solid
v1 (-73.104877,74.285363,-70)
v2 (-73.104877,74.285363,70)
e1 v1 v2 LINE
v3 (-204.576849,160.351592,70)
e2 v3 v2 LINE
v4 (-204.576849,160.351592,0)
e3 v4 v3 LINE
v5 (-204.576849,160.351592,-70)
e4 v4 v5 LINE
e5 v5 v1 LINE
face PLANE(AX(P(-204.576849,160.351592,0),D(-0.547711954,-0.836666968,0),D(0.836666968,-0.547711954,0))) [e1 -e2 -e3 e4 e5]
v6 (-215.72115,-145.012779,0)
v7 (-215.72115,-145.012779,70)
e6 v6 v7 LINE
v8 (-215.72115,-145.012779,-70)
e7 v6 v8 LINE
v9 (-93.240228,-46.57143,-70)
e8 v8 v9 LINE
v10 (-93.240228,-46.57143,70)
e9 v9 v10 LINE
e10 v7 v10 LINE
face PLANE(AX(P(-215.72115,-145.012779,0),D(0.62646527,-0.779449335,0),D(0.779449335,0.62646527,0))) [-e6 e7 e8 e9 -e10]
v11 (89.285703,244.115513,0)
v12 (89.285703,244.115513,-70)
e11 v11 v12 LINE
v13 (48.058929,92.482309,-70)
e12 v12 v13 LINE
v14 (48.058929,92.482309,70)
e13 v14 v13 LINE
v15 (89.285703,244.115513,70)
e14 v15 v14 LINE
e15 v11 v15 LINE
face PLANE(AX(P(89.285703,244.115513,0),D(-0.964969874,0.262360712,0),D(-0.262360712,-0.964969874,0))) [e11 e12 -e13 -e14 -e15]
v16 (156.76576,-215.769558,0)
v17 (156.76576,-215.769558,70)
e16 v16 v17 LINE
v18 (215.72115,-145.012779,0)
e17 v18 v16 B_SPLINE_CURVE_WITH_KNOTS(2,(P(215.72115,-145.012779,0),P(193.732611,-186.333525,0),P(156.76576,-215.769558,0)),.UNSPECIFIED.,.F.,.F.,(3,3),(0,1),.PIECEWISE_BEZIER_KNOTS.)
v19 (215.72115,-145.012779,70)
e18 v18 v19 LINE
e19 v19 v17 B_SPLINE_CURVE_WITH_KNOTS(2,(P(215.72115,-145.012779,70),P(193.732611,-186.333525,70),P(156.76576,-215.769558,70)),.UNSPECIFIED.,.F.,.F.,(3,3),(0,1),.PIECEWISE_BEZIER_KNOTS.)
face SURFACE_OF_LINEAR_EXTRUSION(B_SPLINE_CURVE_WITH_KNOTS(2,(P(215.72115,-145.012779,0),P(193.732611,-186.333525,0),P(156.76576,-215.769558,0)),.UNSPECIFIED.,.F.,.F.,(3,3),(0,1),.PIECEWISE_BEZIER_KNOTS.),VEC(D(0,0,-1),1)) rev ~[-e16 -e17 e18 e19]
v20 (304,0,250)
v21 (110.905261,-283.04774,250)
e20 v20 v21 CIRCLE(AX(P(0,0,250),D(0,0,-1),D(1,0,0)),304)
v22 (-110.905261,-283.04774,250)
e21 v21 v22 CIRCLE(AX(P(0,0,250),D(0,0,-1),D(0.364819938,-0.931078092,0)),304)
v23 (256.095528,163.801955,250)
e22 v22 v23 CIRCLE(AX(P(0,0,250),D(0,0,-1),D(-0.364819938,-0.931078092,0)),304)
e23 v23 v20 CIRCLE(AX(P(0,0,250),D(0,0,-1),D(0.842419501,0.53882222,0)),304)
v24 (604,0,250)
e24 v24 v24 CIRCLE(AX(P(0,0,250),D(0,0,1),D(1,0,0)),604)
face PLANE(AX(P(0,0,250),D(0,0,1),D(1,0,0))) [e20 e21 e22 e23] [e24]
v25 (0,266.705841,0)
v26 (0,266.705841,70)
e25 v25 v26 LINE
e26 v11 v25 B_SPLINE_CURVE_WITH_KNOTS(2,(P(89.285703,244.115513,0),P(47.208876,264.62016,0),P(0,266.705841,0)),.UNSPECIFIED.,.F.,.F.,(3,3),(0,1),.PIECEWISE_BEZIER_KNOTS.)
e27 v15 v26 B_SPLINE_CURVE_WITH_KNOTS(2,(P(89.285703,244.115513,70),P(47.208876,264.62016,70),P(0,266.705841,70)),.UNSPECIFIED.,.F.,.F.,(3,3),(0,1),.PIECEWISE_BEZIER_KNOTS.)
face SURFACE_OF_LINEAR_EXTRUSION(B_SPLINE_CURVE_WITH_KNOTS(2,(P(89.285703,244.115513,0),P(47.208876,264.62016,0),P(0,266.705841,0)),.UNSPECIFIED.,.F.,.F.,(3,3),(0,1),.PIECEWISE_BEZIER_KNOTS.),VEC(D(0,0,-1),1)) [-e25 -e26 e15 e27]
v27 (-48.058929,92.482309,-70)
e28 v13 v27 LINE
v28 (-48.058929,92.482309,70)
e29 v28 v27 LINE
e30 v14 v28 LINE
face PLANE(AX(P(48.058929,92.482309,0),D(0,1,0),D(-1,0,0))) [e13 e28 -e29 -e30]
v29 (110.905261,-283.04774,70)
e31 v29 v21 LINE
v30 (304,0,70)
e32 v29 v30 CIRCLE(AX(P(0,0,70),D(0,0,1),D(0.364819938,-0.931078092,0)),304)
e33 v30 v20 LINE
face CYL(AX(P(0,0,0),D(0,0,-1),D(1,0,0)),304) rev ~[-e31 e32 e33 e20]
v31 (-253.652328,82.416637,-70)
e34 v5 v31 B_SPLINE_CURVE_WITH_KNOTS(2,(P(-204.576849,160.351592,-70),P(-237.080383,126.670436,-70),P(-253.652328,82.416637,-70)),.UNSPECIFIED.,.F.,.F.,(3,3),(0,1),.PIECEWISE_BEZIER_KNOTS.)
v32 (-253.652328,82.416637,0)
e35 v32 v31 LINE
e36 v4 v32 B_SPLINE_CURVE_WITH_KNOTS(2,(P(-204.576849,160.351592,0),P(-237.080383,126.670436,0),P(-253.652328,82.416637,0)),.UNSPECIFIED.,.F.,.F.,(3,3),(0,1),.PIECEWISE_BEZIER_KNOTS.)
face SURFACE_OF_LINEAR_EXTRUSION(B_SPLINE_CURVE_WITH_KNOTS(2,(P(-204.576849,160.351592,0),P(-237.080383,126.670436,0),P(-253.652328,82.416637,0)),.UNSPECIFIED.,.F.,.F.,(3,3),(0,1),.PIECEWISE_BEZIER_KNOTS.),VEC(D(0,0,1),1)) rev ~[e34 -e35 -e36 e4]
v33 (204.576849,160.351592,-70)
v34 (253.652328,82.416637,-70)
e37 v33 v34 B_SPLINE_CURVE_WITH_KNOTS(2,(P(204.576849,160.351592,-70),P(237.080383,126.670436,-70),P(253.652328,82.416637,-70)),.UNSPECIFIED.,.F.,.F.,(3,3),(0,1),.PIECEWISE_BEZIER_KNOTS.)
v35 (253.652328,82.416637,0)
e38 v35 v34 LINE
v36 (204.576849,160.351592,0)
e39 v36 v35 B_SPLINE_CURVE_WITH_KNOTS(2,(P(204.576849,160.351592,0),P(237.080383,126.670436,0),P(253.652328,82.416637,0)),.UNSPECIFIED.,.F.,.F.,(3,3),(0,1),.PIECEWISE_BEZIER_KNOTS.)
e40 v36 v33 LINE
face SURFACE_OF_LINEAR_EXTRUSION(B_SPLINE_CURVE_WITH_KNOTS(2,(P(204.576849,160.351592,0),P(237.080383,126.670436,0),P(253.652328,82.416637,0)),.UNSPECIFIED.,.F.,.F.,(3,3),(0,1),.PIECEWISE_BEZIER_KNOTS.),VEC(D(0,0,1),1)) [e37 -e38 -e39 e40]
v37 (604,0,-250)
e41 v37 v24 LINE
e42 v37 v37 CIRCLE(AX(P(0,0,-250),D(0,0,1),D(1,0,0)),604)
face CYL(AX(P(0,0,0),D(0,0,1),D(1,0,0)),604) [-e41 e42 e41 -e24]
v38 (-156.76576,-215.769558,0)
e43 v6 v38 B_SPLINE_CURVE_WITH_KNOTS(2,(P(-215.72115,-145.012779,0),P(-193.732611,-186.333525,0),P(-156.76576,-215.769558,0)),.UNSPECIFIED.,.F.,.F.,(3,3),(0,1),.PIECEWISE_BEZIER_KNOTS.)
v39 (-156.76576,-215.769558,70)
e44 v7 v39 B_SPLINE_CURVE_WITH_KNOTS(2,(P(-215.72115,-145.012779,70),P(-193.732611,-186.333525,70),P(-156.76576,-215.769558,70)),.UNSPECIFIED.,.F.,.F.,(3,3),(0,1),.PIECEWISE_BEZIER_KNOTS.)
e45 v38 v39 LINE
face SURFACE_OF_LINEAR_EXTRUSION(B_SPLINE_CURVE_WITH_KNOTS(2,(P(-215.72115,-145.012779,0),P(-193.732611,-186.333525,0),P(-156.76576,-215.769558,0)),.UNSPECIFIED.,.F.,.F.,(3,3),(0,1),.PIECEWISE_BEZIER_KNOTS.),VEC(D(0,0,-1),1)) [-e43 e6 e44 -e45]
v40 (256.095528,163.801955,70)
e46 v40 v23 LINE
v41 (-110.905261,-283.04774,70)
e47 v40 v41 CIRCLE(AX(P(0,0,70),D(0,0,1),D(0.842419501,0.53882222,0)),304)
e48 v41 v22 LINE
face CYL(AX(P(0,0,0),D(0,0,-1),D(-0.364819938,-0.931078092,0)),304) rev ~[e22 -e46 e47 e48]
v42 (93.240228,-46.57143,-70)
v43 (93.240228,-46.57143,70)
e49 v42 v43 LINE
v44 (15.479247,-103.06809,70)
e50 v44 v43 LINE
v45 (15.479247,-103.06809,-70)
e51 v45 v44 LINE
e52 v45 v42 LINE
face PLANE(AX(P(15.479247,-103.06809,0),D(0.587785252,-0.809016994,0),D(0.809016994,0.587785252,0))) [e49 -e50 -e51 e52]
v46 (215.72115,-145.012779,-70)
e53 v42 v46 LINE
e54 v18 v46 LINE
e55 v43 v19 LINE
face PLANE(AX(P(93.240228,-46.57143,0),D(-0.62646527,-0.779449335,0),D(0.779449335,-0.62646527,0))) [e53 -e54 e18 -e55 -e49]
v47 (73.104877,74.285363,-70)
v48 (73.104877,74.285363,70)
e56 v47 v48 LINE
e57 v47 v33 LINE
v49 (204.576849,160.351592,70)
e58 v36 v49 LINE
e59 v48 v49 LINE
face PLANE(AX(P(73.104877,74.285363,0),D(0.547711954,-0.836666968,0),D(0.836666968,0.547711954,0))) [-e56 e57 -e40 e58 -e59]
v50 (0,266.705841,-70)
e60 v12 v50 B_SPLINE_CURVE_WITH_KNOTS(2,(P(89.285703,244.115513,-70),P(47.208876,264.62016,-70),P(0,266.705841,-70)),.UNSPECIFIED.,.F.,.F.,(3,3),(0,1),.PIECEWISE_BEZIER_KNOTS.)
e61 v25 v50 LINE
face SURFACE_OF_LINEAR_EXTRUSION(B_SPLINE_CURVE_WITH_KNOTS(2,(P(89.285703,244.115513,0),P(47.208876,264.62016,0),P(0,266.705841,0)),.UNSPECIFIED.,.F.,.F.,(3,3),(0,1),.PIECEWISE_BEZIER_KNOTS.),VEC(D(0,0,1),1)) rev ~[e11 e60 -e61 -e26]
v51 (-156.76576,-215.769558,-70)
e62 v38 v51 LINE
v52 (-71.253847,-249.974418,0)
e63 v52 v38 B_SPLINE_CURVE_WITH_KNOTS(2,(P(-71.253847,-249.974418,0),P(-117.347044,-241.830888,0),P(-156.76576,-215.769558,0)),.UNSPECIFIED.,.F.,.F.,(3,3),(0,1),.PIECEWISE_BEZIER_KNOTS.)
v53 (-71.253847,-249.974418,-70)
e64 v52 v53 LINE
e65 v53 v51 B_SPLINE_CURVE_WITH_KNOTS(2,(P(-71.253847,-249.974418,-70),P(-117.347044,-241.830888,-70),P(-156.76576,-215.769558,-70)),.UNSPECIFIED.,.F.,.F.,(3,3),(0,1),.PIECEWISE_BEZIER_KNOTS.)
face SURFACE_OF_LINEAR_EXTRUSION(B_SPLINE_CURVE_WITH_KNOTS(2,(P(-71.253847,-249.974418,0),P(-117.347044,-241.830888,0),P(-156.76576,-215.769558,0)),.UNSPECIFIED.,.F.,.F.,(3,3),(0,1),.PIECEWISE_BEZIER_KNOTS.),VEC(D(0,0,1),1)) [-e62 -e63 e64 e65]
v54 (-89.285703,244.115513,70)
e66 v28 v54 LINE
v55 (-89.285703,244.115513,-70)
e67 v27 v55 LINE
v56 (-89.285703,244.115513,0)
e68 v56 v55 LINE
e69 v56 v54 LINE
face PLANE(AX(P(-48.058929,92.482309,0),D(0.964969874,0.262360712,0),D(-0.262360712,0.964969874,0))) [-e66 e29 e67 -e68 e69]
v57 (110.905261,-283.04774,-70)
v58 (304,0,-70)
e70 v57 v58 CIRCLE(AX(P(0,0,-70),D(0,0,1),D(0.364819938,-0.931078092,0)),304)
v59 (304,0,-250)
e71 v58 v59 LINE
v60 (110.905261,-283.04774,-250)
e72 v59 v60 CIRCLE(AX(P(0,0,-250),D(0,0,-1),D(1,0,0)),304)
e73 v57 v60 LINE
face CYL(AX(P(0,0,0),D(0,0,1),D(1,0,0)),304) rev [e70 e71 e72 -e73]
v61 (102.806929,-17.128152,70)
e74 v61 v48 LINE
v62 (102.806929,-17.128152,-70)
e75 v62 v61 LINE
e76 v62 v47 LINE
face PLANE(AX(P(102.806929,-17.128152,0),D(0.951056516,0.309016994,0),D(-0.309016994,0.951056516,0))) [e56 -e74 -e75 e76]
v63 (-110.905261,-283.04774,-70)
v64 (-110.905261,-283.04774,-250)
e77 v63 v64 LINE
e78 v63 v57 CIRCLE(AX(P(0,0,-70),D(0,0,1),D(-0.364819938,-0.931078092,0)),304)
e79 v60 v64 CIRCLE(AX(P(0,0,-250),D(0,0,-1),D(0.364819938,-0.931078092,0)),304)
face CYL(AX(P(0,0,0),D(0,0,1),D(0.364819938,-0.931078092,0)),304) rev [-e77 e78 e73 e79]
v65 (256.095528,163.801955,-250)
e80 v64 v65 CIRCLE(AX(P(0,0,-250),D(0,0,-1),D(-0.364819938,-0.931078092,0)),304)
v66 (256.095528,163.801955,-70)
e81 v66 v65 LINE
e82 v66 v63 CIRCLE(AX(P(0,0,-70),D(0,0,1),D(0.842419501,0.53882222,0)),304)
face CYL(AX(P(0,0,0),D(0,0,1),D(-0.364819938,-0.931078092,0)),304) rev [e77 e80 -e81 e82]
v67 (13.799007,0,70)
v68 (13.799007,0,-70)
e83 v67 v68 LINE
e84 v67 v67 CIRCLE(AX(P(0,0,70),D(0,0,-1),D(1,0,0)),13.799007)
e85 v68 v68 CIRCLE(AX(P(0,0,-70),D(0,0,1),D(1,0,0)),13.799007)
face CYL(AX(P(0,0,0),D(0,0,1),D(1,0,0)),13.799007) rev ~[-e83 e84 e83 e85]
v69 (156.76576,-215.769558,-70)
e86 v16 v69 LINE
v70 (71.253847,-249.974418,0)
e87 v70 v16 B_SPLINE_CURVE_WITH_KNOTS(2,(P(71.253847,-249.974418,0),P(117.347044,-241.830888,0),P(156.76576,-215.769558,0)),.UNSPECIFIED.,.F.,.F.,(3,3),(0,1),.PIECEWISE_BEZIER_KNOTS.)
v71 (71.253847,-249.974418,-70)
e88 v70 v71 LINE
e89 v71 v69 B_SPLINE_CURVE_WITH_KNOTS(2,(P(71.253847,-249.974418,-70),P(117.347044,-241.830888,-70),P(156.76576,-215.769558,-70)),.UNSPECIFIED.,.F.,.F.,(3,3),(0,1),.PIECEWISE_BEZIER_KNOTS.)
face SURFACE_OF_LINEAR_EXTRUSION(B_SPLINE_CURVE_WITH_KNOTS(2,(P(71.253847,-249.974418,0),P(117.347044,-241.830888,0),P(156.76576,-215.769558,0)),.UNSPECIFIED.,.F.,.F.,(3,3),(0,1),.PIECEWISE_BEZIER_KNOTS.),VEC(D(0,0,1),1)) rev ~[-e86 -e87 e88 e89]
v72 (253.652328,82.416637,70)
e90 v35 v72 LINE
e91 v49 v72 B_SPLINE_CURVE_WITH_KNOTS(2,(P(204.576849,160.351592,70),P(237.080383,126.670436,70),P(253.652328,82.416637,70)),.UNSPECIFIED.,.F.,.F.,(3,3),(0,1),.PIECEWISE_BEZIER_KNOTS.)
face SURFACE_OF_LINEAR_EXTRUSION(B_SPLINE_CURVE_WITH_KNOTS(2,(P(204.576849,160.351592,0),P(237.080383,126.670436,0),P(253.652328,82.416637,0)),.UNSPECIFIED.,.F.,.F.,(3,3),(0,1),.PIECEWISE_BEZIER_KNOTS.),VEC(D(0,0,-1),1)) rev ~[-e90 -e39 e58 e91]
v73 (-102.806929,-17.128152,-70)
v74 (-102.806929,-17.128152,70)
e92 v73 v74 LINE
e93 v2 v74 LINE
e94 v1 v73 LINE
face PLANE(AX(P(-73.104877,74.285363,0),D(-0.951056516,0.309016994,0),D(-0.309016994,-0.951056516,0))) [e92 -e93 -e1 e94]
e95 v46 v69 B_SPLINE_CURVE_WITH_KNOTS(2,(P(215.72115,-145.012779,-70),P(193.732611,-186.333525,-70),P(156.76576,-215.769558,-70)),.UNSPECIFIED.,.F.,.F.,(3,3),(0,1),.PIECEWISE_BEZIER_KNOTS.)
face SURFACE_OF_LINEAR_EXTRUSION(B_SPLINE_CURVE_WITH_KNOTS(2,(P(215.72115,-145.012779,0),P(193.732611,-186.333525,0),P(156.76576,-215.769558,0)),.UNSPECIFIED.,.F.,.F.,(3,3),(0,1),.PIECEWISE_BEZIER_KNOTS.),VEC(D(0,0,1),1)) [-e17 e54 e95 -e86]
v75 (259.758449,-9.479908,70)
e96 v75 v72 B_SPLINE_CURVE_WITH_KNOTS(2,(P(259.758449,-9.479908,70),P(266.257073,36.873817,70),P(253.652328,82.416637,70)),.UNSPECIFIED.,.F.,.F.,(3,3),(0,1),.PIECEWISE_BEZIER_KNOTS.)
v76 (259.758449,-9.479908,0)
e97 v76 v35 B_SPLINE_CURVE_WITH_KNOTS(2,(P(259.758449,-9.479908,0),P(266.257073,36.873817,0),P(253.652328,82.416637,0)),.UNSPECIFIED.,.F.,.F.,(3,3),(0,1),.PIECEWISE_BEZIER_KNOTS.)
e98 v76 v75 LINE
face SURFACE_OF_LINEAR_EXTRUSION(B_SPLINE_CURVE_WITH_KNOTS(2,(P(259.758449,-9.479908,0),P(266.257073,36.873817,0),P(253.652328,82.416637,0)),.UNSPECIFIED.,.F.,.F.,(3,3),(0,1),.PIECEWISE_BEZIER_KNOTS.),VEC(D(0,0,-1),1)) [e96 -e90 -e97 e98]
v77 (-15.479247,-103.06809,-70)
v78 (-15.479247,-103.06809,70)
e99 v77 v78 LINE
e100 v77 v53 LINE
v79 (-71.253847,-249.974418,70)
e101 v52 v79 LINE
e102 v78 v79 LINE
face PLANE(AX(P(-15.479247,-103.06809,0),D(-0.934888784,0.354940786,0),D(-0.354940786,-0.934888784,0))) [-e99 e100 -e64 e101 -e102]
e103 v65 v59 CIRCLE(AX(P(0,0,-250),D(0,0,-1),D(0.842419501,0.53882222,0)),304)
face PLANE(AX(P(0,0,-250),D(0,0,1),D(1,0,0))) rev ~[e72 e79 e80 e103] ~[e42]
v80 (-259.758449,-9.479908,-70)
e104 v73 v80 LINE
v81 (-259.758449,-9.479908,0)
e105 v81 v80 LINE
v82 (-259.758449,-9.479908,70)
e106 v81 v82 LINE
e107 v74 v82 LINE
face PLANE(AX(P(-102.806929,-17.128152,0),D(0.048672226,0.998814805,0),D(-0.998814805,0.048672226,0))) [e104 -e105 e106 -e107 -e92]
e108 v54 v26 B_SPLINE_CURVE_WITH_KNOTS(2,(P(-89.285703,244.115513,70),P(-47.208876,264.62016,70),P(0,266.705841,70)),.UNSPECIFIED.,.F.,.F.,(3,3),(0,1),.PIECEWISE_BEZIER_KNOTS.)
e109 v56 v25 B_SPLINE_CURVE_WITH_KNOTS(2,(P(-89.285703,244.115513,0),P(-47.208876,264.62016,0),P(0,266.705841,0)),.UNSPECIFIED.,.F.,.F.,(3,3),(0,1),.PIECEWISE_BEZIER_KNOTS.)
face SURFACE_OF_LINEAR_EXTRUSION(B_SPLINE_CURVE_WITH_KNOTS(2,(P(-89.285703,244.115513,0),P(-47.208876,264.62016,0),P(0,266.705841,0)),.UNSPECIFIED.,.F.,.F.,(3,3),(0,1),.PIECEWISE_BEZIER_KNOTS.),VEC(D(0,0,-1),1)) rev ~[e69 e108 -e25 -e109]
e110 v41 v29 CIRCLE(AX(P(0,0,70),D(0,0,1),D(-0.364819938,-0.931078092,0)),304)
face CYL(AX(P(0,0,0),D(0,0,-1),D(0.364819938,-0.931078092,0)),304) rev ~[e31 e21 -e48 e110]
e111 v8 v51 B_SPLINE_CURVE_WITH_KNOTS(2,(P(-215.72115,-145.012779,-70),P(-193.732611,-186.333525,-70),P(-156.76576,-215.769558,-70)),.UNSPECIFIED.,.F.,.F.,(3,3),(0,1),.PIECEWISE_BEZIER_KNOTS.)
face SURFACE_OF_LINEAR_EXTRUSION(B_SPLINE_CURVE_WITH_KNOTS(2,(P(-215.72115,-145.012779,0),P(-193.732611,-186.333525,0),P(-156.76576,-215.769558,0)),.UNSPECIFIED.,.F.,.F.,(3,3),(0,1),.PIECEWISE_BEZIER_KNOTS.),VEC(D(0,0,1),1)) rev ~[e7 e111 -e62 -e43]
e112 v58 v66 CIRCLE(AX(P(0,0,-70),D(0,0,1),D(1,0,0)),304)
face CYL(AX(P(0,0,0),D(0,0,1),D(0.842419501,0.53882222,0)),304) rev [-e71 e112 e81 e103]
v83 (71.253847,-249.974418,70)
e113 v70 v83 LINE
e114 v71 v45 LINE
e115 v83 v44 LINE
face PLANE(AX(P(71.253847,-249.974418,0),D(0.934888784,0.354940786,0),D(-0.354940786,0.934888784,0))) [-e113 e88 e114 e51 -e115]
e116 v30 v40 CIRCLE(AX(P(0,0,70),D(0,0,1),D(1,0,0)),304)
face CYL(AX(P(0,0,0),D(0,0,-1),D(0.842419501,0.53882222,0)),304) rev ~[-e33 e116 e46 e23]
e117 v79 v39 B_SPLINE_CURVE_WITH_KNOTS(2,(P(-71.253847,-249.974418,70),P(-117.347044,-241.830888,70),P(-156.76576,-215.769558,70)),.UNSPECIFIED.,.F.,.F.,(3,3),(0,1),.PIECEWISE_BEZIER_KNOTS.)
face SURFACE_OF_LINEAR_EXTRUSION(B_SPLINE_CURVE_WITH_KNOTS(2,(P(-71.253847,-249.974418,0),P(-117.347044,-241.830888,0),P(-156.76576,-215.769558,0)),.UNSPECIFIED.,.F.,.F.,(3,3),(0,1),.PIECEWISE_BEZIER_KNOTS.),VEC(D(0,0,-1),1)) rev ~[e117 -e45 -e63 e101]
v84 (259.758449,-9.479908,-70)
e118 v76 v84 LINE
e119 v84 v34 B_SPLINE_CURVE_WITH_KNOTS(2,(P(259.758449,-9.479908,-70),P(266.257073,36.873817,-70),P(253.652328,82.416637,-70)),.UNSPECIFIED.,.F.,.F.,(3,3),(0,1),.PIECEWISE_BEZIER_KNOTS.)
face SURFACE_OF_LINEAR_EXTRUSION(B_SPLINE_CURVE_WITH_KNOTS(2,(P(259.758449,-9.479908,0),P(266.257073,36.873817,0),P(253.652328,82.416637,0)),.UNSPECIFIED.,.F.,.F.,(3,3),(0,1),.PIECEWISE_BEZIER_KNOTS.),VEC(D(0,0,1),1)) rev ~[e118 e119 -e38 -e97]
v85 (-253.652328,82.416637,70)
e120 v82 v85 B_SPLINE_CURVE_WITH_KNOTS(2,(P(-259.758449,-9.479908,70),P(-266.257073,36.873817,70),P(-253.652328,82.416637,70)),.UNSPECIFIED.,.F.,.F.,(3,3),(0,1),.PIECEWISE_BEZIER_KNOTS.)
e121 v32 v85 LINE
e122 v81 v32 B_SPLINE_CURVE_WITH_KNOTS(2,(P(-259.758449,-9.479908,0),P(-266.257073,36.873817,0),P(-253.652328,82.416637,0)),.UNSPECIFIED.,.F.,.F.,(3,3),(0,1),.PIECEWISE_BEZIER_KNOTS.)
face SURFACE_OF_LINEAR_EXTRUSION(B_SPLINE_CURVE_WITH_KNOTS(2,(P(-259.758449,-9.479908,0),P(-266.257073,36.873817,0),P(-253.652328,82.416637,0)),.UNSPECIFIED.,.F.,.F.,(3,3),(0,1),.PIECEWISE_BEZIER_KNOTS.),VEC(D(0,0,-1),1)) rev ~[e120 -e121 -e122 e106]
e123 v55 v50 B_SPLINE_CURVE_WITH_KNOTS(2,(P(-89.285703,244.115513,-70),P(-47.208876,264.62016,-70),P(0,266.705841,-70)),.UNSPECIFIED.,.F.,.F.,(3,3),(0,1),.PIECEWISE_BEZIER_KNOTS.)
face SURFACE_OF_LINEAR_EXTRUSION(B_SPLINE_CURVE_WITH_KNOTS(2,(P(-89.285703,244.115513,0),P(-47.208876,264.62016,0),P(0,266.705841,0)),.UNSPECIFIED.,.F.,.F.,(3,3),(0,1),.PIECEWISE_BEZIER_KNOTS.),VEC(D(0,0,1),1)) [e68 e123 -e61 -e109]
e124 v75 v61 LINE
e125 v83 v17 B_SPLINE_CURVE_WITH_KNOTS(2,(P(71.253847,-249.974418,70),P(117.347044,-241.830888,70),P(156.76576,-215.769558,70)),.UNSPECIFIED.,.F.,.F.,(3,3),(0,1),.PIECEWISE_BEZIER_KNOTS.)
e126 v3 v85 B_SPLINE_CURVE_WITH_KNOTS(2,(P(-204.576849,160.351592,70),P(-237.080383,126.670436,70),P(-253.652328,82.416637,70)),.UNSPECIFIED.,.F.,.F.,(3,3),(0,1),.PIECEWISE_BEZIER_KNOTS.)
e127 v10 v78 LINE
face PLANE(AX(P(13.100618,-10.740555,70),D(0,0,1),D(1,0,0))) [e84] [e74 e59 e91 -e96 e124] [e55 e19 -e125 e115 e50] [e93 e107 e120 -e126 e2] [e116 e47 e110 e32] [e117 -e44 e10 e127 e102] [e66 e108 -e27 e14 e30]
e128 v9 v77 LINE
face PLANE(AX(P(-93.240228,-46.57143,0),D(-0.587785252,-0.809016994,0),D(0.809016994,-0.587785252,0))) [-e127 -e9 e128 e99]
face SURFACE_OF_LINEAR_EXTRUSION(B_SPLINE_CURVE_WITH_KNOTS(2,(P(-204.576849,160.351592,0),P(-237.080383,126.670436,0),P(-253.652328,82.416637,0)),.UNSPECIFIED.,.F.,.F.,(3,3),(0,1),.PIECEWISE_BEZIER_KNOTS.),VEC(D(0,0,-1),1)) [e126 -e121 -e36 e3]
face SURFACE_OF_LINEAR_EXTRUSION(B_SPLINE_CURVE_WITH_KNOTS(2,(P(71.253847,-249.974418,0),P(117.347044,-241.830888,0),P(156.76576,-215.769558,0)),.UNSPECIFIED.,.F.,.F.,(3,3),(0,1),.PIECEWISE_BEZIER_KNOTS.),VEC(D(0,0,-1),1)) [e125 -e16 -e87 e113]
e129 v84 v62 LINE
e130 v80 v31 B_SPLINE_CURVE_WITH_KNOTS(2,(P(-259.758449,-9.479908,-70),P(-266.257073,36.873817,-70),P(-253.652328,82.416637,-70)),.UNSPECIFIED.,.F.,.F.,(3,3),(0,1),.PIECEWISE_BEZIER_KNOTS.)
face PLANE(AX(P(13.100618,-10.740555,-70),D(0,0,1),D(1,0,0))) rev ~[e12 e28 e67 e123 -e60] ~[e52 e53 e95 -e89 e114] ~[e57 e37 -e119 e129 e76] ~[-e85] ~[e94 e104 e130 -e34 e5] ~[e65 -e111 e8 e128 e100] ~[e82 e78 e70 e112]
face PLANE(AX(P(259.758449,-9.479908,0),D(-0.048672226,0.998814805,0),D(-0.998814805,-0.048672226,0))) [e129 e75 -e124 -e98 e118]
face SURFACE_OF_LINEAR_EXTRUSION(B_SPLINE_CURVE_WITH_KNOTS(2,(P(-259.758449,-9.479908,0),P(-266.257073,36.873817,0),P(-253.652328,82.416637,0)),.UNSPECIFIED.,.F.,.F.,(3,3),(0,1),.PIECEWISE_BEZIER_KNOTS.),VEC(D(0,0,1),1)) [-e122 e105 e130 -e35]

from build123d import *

# Parameters (mm, degrees)
SKETCH1_R                = 604
BOSS_EXTRUDE1_DEPTH      = 250
BOSS_EXTRUDE1_DEPTH_BACK = 250
BOSS_EXTRUDE2_DEPTH      = 70
BOSS_EXTRUDE2_DEPTH_BACK = 70
SKETCH2_R                = 13.799006552
CUT_EXTRUDE1_DEPTH       = 251
CUT_EXTRUDE1_DEPTH_BACK  = 80


with BuildPart() as part:
    # Sketch1 → Boss-Extrude1 (new body, two sides)
    with BuildSketch(Plane.XY) as boss_extrude1_sk:
        Circle(SKETCH1_R)
        with BuildLine():
            ThreePointArc((110.905261025, -283.047739926), (0, -304), (-110.905261025, -283.047739926))
            ThreePointArc((-110.905261025, -283.047739926), (-289.121180954, -93.94116629), (-256.095528158, 163.801954987))
            ThreePointArc((-256.095528158, 163.801954987), (0, 304), (256.095528158, 163.801954987))
            ThreePointArc((256.095528158, 163.801954987), (291.778203915, 85.331586883), (304, 0))
            ThreePointArc((304, 0), (251.128651643, -171.319585349), (110.905261025, -283.047739926))
        make_face(mode=Mode.SUBTRACT)
    extrude(amount=BOSS_EXTRUDE1_DEPTH)
    extrude(boss_extrude1_sk.sketch, amount=-BOSS_EXTRUDE1_DEPTH_BACK)

    # Sketch1<3> → Boss-Extrude2 (add, two sides)
    with BuildSketch(Plane.XY) as boss_extrude2_sk:
        with BuildLine():
            ThreePointArc((-256.095528158, 163.801954987), (-289.121180954, -93.94116629), (-110.905261025, -283.047739926))
            ThreePointArc((-110.905261025, -283.047739926), (0, -304), (110.905261025, -283.047739926))
            ThreePointArc((110.905261025, -283.047739926), (251.128651643, -171.319585349), (304, 0))
            ThreePointArc((304, 0), (291.778203915, 85.331586883), (256.095528158, 163.801954987))
            ThreePointArc((256.095528158, 163.801954987), (0, 304), (-256.095528158, 163.801954987))
        make_face()
        with BuildLine():
            Line((-215.721149564, -145.012778765), (-93.240227923, -46.571430252))
            Line((-93.240227923, -46.571430252), (-15.479247226, -103.068089747))
            Line((-15.479247226, -103.068089747), (-71.253846929, -249.974418035))
            add(Edge.make_bspline(
                [(-71.253846929, -249.974418035), (-117.347044344, -241.830887845), (-156.765760089, -215.769557936)],
                knots=[0, 0, 0, 1, 1, 1], degree=2))
            add(Edge.make_bspline(
                [(-215.721149564, -145.012778765), (-193.732610785, -186.3335253), (-156.765760089, -215.769557936)],
                knots=[0, 0, 0, 1, 1, 1], degree=2))
        make_face(mode=Mode.SUBTRACT)
        with BuildLine():
            Line((71.253846929, -249.974418035), (15.479247226, -103.068089747))
            Line((15.479247226, -103.068089747), (93.240227923, -46.571430252))
            Line((93.240227923, -46.571430252), (215.721149564, -145.012778765))
            add(Edge.make_bspline(
                [(215.721149564, -145.012778765), (193.732610785, -186.3335253), (156.765760089, -215.769557936)],
                knots=[0, 0, 0, 1, 1, 1], degree=2))
            add(Edge.make_bspline(
                [(71.253846929, -249.974418035), (117.347044344, -241.830887845), (156.765760089, -215.769557936)],
                knots=[0, 0, 0, 1, 1, 1], degree=2))
        make_face(mode=Mode.SUBTRACT)
        with BuildLine():
            Line((-204.576849452, 160.351591955), (-73.104877202, 74.285362947))
            Line((-73.104877202, 74.285362947), (-102.806928829, -17.128152368))
            Line((-102.806928829, -17.128152368), (-259.758448795, -9.479907899))
            add(Edge.make_bspline(
                [(-259.758448795, -9.479907899), (-266.257072669, 36.873817082), (-253.652328097, 82.416637394)],
                knots=[0, 0, 0, 1, 1, 1], degree=2))
            add(Edge.make_bspline(
                [(-204.576849452, 160.351591955), (-237.080382538, 126.670435966), (-253.652328097, 82.416637394)],
                knots=[0, 0, 0, 1, 1, 1], degree=2))
        make_face(mode=Mode.SUBTRACT)
        with BuildLine():
            Line((259.758448795, -9.479907899), (102.806928829, -17.128152368))
            Line((102.806928829, -17.128152368), (73.104877202, 74.285362947))
            Line((73.104877202, 74.285362947), (204.576849452, 160.351591955))
            add(Edge.make_bspline(
                [(204.576849452, 160.351591955), (237.080382538, 126.670435966), (253.652328097, 82.416637394)],
                knots=[0, 0, 0, 1, 1, 1], degree=2))
            add(Edge.make_bspline(
                [(259.758448795, -9.479907899), (266.257072669, 36.873817082), (253.652328097, 82.416637394)],
                knots=[0, 0, 0, 1, 1, 1], degree=2))
        make_face(mode=Mode.SUBTRACT)
        with BuildLine():
            Line((89.285703291, 244.115512743), (48.058929069, 92.48230942))
            Line((48.058929069, 92.48230942), (-48.058929069, 92.48230942))
            Line((-48.058929069, 92.48230942), (-89.285703291, 244.115512743))
            add(Edge.make_bspline(
                [(-89.285703291, 244.115512743), (-47.20887631, 264.620160097), (0, 266.705841084)],
                knots=[0, 0, 0, 1, 1, 1], degree=2))
            add(Edge.make_bspline(
                [(89.285703291, 244.115512743), (47.20887631, 264.620160097), (0, 266.705841084)],
                knots=[0, 0, 0, 1, 1, 1], degree=2))
        make_face(mode=Mode.SUBTRACT)
    extrude(amount=BOSS_EXTRUDE2_DEPTH)
    extrude(boss_extrude2_sk.sketch, amount=-BOSS_EXTRUDE2_DEPTH_BACK)

    # Sketch2 → Cut-Extrude1 (cut, two sides)
    with BuildSketch(Plane.XY) as cut_extrude1_sk:
        Circle(SKETCH2_R)
    extrude(amount=CUT_EXTRUDE1_DEPTH, mode=Mode.SUBTRACT)
    extrude(cut_extrude1_sk.sketch, amount=-CUT_EXTRUDE1_DEPTH_BACK, mode=Mode.SUBTRACT)


solid = part.part
